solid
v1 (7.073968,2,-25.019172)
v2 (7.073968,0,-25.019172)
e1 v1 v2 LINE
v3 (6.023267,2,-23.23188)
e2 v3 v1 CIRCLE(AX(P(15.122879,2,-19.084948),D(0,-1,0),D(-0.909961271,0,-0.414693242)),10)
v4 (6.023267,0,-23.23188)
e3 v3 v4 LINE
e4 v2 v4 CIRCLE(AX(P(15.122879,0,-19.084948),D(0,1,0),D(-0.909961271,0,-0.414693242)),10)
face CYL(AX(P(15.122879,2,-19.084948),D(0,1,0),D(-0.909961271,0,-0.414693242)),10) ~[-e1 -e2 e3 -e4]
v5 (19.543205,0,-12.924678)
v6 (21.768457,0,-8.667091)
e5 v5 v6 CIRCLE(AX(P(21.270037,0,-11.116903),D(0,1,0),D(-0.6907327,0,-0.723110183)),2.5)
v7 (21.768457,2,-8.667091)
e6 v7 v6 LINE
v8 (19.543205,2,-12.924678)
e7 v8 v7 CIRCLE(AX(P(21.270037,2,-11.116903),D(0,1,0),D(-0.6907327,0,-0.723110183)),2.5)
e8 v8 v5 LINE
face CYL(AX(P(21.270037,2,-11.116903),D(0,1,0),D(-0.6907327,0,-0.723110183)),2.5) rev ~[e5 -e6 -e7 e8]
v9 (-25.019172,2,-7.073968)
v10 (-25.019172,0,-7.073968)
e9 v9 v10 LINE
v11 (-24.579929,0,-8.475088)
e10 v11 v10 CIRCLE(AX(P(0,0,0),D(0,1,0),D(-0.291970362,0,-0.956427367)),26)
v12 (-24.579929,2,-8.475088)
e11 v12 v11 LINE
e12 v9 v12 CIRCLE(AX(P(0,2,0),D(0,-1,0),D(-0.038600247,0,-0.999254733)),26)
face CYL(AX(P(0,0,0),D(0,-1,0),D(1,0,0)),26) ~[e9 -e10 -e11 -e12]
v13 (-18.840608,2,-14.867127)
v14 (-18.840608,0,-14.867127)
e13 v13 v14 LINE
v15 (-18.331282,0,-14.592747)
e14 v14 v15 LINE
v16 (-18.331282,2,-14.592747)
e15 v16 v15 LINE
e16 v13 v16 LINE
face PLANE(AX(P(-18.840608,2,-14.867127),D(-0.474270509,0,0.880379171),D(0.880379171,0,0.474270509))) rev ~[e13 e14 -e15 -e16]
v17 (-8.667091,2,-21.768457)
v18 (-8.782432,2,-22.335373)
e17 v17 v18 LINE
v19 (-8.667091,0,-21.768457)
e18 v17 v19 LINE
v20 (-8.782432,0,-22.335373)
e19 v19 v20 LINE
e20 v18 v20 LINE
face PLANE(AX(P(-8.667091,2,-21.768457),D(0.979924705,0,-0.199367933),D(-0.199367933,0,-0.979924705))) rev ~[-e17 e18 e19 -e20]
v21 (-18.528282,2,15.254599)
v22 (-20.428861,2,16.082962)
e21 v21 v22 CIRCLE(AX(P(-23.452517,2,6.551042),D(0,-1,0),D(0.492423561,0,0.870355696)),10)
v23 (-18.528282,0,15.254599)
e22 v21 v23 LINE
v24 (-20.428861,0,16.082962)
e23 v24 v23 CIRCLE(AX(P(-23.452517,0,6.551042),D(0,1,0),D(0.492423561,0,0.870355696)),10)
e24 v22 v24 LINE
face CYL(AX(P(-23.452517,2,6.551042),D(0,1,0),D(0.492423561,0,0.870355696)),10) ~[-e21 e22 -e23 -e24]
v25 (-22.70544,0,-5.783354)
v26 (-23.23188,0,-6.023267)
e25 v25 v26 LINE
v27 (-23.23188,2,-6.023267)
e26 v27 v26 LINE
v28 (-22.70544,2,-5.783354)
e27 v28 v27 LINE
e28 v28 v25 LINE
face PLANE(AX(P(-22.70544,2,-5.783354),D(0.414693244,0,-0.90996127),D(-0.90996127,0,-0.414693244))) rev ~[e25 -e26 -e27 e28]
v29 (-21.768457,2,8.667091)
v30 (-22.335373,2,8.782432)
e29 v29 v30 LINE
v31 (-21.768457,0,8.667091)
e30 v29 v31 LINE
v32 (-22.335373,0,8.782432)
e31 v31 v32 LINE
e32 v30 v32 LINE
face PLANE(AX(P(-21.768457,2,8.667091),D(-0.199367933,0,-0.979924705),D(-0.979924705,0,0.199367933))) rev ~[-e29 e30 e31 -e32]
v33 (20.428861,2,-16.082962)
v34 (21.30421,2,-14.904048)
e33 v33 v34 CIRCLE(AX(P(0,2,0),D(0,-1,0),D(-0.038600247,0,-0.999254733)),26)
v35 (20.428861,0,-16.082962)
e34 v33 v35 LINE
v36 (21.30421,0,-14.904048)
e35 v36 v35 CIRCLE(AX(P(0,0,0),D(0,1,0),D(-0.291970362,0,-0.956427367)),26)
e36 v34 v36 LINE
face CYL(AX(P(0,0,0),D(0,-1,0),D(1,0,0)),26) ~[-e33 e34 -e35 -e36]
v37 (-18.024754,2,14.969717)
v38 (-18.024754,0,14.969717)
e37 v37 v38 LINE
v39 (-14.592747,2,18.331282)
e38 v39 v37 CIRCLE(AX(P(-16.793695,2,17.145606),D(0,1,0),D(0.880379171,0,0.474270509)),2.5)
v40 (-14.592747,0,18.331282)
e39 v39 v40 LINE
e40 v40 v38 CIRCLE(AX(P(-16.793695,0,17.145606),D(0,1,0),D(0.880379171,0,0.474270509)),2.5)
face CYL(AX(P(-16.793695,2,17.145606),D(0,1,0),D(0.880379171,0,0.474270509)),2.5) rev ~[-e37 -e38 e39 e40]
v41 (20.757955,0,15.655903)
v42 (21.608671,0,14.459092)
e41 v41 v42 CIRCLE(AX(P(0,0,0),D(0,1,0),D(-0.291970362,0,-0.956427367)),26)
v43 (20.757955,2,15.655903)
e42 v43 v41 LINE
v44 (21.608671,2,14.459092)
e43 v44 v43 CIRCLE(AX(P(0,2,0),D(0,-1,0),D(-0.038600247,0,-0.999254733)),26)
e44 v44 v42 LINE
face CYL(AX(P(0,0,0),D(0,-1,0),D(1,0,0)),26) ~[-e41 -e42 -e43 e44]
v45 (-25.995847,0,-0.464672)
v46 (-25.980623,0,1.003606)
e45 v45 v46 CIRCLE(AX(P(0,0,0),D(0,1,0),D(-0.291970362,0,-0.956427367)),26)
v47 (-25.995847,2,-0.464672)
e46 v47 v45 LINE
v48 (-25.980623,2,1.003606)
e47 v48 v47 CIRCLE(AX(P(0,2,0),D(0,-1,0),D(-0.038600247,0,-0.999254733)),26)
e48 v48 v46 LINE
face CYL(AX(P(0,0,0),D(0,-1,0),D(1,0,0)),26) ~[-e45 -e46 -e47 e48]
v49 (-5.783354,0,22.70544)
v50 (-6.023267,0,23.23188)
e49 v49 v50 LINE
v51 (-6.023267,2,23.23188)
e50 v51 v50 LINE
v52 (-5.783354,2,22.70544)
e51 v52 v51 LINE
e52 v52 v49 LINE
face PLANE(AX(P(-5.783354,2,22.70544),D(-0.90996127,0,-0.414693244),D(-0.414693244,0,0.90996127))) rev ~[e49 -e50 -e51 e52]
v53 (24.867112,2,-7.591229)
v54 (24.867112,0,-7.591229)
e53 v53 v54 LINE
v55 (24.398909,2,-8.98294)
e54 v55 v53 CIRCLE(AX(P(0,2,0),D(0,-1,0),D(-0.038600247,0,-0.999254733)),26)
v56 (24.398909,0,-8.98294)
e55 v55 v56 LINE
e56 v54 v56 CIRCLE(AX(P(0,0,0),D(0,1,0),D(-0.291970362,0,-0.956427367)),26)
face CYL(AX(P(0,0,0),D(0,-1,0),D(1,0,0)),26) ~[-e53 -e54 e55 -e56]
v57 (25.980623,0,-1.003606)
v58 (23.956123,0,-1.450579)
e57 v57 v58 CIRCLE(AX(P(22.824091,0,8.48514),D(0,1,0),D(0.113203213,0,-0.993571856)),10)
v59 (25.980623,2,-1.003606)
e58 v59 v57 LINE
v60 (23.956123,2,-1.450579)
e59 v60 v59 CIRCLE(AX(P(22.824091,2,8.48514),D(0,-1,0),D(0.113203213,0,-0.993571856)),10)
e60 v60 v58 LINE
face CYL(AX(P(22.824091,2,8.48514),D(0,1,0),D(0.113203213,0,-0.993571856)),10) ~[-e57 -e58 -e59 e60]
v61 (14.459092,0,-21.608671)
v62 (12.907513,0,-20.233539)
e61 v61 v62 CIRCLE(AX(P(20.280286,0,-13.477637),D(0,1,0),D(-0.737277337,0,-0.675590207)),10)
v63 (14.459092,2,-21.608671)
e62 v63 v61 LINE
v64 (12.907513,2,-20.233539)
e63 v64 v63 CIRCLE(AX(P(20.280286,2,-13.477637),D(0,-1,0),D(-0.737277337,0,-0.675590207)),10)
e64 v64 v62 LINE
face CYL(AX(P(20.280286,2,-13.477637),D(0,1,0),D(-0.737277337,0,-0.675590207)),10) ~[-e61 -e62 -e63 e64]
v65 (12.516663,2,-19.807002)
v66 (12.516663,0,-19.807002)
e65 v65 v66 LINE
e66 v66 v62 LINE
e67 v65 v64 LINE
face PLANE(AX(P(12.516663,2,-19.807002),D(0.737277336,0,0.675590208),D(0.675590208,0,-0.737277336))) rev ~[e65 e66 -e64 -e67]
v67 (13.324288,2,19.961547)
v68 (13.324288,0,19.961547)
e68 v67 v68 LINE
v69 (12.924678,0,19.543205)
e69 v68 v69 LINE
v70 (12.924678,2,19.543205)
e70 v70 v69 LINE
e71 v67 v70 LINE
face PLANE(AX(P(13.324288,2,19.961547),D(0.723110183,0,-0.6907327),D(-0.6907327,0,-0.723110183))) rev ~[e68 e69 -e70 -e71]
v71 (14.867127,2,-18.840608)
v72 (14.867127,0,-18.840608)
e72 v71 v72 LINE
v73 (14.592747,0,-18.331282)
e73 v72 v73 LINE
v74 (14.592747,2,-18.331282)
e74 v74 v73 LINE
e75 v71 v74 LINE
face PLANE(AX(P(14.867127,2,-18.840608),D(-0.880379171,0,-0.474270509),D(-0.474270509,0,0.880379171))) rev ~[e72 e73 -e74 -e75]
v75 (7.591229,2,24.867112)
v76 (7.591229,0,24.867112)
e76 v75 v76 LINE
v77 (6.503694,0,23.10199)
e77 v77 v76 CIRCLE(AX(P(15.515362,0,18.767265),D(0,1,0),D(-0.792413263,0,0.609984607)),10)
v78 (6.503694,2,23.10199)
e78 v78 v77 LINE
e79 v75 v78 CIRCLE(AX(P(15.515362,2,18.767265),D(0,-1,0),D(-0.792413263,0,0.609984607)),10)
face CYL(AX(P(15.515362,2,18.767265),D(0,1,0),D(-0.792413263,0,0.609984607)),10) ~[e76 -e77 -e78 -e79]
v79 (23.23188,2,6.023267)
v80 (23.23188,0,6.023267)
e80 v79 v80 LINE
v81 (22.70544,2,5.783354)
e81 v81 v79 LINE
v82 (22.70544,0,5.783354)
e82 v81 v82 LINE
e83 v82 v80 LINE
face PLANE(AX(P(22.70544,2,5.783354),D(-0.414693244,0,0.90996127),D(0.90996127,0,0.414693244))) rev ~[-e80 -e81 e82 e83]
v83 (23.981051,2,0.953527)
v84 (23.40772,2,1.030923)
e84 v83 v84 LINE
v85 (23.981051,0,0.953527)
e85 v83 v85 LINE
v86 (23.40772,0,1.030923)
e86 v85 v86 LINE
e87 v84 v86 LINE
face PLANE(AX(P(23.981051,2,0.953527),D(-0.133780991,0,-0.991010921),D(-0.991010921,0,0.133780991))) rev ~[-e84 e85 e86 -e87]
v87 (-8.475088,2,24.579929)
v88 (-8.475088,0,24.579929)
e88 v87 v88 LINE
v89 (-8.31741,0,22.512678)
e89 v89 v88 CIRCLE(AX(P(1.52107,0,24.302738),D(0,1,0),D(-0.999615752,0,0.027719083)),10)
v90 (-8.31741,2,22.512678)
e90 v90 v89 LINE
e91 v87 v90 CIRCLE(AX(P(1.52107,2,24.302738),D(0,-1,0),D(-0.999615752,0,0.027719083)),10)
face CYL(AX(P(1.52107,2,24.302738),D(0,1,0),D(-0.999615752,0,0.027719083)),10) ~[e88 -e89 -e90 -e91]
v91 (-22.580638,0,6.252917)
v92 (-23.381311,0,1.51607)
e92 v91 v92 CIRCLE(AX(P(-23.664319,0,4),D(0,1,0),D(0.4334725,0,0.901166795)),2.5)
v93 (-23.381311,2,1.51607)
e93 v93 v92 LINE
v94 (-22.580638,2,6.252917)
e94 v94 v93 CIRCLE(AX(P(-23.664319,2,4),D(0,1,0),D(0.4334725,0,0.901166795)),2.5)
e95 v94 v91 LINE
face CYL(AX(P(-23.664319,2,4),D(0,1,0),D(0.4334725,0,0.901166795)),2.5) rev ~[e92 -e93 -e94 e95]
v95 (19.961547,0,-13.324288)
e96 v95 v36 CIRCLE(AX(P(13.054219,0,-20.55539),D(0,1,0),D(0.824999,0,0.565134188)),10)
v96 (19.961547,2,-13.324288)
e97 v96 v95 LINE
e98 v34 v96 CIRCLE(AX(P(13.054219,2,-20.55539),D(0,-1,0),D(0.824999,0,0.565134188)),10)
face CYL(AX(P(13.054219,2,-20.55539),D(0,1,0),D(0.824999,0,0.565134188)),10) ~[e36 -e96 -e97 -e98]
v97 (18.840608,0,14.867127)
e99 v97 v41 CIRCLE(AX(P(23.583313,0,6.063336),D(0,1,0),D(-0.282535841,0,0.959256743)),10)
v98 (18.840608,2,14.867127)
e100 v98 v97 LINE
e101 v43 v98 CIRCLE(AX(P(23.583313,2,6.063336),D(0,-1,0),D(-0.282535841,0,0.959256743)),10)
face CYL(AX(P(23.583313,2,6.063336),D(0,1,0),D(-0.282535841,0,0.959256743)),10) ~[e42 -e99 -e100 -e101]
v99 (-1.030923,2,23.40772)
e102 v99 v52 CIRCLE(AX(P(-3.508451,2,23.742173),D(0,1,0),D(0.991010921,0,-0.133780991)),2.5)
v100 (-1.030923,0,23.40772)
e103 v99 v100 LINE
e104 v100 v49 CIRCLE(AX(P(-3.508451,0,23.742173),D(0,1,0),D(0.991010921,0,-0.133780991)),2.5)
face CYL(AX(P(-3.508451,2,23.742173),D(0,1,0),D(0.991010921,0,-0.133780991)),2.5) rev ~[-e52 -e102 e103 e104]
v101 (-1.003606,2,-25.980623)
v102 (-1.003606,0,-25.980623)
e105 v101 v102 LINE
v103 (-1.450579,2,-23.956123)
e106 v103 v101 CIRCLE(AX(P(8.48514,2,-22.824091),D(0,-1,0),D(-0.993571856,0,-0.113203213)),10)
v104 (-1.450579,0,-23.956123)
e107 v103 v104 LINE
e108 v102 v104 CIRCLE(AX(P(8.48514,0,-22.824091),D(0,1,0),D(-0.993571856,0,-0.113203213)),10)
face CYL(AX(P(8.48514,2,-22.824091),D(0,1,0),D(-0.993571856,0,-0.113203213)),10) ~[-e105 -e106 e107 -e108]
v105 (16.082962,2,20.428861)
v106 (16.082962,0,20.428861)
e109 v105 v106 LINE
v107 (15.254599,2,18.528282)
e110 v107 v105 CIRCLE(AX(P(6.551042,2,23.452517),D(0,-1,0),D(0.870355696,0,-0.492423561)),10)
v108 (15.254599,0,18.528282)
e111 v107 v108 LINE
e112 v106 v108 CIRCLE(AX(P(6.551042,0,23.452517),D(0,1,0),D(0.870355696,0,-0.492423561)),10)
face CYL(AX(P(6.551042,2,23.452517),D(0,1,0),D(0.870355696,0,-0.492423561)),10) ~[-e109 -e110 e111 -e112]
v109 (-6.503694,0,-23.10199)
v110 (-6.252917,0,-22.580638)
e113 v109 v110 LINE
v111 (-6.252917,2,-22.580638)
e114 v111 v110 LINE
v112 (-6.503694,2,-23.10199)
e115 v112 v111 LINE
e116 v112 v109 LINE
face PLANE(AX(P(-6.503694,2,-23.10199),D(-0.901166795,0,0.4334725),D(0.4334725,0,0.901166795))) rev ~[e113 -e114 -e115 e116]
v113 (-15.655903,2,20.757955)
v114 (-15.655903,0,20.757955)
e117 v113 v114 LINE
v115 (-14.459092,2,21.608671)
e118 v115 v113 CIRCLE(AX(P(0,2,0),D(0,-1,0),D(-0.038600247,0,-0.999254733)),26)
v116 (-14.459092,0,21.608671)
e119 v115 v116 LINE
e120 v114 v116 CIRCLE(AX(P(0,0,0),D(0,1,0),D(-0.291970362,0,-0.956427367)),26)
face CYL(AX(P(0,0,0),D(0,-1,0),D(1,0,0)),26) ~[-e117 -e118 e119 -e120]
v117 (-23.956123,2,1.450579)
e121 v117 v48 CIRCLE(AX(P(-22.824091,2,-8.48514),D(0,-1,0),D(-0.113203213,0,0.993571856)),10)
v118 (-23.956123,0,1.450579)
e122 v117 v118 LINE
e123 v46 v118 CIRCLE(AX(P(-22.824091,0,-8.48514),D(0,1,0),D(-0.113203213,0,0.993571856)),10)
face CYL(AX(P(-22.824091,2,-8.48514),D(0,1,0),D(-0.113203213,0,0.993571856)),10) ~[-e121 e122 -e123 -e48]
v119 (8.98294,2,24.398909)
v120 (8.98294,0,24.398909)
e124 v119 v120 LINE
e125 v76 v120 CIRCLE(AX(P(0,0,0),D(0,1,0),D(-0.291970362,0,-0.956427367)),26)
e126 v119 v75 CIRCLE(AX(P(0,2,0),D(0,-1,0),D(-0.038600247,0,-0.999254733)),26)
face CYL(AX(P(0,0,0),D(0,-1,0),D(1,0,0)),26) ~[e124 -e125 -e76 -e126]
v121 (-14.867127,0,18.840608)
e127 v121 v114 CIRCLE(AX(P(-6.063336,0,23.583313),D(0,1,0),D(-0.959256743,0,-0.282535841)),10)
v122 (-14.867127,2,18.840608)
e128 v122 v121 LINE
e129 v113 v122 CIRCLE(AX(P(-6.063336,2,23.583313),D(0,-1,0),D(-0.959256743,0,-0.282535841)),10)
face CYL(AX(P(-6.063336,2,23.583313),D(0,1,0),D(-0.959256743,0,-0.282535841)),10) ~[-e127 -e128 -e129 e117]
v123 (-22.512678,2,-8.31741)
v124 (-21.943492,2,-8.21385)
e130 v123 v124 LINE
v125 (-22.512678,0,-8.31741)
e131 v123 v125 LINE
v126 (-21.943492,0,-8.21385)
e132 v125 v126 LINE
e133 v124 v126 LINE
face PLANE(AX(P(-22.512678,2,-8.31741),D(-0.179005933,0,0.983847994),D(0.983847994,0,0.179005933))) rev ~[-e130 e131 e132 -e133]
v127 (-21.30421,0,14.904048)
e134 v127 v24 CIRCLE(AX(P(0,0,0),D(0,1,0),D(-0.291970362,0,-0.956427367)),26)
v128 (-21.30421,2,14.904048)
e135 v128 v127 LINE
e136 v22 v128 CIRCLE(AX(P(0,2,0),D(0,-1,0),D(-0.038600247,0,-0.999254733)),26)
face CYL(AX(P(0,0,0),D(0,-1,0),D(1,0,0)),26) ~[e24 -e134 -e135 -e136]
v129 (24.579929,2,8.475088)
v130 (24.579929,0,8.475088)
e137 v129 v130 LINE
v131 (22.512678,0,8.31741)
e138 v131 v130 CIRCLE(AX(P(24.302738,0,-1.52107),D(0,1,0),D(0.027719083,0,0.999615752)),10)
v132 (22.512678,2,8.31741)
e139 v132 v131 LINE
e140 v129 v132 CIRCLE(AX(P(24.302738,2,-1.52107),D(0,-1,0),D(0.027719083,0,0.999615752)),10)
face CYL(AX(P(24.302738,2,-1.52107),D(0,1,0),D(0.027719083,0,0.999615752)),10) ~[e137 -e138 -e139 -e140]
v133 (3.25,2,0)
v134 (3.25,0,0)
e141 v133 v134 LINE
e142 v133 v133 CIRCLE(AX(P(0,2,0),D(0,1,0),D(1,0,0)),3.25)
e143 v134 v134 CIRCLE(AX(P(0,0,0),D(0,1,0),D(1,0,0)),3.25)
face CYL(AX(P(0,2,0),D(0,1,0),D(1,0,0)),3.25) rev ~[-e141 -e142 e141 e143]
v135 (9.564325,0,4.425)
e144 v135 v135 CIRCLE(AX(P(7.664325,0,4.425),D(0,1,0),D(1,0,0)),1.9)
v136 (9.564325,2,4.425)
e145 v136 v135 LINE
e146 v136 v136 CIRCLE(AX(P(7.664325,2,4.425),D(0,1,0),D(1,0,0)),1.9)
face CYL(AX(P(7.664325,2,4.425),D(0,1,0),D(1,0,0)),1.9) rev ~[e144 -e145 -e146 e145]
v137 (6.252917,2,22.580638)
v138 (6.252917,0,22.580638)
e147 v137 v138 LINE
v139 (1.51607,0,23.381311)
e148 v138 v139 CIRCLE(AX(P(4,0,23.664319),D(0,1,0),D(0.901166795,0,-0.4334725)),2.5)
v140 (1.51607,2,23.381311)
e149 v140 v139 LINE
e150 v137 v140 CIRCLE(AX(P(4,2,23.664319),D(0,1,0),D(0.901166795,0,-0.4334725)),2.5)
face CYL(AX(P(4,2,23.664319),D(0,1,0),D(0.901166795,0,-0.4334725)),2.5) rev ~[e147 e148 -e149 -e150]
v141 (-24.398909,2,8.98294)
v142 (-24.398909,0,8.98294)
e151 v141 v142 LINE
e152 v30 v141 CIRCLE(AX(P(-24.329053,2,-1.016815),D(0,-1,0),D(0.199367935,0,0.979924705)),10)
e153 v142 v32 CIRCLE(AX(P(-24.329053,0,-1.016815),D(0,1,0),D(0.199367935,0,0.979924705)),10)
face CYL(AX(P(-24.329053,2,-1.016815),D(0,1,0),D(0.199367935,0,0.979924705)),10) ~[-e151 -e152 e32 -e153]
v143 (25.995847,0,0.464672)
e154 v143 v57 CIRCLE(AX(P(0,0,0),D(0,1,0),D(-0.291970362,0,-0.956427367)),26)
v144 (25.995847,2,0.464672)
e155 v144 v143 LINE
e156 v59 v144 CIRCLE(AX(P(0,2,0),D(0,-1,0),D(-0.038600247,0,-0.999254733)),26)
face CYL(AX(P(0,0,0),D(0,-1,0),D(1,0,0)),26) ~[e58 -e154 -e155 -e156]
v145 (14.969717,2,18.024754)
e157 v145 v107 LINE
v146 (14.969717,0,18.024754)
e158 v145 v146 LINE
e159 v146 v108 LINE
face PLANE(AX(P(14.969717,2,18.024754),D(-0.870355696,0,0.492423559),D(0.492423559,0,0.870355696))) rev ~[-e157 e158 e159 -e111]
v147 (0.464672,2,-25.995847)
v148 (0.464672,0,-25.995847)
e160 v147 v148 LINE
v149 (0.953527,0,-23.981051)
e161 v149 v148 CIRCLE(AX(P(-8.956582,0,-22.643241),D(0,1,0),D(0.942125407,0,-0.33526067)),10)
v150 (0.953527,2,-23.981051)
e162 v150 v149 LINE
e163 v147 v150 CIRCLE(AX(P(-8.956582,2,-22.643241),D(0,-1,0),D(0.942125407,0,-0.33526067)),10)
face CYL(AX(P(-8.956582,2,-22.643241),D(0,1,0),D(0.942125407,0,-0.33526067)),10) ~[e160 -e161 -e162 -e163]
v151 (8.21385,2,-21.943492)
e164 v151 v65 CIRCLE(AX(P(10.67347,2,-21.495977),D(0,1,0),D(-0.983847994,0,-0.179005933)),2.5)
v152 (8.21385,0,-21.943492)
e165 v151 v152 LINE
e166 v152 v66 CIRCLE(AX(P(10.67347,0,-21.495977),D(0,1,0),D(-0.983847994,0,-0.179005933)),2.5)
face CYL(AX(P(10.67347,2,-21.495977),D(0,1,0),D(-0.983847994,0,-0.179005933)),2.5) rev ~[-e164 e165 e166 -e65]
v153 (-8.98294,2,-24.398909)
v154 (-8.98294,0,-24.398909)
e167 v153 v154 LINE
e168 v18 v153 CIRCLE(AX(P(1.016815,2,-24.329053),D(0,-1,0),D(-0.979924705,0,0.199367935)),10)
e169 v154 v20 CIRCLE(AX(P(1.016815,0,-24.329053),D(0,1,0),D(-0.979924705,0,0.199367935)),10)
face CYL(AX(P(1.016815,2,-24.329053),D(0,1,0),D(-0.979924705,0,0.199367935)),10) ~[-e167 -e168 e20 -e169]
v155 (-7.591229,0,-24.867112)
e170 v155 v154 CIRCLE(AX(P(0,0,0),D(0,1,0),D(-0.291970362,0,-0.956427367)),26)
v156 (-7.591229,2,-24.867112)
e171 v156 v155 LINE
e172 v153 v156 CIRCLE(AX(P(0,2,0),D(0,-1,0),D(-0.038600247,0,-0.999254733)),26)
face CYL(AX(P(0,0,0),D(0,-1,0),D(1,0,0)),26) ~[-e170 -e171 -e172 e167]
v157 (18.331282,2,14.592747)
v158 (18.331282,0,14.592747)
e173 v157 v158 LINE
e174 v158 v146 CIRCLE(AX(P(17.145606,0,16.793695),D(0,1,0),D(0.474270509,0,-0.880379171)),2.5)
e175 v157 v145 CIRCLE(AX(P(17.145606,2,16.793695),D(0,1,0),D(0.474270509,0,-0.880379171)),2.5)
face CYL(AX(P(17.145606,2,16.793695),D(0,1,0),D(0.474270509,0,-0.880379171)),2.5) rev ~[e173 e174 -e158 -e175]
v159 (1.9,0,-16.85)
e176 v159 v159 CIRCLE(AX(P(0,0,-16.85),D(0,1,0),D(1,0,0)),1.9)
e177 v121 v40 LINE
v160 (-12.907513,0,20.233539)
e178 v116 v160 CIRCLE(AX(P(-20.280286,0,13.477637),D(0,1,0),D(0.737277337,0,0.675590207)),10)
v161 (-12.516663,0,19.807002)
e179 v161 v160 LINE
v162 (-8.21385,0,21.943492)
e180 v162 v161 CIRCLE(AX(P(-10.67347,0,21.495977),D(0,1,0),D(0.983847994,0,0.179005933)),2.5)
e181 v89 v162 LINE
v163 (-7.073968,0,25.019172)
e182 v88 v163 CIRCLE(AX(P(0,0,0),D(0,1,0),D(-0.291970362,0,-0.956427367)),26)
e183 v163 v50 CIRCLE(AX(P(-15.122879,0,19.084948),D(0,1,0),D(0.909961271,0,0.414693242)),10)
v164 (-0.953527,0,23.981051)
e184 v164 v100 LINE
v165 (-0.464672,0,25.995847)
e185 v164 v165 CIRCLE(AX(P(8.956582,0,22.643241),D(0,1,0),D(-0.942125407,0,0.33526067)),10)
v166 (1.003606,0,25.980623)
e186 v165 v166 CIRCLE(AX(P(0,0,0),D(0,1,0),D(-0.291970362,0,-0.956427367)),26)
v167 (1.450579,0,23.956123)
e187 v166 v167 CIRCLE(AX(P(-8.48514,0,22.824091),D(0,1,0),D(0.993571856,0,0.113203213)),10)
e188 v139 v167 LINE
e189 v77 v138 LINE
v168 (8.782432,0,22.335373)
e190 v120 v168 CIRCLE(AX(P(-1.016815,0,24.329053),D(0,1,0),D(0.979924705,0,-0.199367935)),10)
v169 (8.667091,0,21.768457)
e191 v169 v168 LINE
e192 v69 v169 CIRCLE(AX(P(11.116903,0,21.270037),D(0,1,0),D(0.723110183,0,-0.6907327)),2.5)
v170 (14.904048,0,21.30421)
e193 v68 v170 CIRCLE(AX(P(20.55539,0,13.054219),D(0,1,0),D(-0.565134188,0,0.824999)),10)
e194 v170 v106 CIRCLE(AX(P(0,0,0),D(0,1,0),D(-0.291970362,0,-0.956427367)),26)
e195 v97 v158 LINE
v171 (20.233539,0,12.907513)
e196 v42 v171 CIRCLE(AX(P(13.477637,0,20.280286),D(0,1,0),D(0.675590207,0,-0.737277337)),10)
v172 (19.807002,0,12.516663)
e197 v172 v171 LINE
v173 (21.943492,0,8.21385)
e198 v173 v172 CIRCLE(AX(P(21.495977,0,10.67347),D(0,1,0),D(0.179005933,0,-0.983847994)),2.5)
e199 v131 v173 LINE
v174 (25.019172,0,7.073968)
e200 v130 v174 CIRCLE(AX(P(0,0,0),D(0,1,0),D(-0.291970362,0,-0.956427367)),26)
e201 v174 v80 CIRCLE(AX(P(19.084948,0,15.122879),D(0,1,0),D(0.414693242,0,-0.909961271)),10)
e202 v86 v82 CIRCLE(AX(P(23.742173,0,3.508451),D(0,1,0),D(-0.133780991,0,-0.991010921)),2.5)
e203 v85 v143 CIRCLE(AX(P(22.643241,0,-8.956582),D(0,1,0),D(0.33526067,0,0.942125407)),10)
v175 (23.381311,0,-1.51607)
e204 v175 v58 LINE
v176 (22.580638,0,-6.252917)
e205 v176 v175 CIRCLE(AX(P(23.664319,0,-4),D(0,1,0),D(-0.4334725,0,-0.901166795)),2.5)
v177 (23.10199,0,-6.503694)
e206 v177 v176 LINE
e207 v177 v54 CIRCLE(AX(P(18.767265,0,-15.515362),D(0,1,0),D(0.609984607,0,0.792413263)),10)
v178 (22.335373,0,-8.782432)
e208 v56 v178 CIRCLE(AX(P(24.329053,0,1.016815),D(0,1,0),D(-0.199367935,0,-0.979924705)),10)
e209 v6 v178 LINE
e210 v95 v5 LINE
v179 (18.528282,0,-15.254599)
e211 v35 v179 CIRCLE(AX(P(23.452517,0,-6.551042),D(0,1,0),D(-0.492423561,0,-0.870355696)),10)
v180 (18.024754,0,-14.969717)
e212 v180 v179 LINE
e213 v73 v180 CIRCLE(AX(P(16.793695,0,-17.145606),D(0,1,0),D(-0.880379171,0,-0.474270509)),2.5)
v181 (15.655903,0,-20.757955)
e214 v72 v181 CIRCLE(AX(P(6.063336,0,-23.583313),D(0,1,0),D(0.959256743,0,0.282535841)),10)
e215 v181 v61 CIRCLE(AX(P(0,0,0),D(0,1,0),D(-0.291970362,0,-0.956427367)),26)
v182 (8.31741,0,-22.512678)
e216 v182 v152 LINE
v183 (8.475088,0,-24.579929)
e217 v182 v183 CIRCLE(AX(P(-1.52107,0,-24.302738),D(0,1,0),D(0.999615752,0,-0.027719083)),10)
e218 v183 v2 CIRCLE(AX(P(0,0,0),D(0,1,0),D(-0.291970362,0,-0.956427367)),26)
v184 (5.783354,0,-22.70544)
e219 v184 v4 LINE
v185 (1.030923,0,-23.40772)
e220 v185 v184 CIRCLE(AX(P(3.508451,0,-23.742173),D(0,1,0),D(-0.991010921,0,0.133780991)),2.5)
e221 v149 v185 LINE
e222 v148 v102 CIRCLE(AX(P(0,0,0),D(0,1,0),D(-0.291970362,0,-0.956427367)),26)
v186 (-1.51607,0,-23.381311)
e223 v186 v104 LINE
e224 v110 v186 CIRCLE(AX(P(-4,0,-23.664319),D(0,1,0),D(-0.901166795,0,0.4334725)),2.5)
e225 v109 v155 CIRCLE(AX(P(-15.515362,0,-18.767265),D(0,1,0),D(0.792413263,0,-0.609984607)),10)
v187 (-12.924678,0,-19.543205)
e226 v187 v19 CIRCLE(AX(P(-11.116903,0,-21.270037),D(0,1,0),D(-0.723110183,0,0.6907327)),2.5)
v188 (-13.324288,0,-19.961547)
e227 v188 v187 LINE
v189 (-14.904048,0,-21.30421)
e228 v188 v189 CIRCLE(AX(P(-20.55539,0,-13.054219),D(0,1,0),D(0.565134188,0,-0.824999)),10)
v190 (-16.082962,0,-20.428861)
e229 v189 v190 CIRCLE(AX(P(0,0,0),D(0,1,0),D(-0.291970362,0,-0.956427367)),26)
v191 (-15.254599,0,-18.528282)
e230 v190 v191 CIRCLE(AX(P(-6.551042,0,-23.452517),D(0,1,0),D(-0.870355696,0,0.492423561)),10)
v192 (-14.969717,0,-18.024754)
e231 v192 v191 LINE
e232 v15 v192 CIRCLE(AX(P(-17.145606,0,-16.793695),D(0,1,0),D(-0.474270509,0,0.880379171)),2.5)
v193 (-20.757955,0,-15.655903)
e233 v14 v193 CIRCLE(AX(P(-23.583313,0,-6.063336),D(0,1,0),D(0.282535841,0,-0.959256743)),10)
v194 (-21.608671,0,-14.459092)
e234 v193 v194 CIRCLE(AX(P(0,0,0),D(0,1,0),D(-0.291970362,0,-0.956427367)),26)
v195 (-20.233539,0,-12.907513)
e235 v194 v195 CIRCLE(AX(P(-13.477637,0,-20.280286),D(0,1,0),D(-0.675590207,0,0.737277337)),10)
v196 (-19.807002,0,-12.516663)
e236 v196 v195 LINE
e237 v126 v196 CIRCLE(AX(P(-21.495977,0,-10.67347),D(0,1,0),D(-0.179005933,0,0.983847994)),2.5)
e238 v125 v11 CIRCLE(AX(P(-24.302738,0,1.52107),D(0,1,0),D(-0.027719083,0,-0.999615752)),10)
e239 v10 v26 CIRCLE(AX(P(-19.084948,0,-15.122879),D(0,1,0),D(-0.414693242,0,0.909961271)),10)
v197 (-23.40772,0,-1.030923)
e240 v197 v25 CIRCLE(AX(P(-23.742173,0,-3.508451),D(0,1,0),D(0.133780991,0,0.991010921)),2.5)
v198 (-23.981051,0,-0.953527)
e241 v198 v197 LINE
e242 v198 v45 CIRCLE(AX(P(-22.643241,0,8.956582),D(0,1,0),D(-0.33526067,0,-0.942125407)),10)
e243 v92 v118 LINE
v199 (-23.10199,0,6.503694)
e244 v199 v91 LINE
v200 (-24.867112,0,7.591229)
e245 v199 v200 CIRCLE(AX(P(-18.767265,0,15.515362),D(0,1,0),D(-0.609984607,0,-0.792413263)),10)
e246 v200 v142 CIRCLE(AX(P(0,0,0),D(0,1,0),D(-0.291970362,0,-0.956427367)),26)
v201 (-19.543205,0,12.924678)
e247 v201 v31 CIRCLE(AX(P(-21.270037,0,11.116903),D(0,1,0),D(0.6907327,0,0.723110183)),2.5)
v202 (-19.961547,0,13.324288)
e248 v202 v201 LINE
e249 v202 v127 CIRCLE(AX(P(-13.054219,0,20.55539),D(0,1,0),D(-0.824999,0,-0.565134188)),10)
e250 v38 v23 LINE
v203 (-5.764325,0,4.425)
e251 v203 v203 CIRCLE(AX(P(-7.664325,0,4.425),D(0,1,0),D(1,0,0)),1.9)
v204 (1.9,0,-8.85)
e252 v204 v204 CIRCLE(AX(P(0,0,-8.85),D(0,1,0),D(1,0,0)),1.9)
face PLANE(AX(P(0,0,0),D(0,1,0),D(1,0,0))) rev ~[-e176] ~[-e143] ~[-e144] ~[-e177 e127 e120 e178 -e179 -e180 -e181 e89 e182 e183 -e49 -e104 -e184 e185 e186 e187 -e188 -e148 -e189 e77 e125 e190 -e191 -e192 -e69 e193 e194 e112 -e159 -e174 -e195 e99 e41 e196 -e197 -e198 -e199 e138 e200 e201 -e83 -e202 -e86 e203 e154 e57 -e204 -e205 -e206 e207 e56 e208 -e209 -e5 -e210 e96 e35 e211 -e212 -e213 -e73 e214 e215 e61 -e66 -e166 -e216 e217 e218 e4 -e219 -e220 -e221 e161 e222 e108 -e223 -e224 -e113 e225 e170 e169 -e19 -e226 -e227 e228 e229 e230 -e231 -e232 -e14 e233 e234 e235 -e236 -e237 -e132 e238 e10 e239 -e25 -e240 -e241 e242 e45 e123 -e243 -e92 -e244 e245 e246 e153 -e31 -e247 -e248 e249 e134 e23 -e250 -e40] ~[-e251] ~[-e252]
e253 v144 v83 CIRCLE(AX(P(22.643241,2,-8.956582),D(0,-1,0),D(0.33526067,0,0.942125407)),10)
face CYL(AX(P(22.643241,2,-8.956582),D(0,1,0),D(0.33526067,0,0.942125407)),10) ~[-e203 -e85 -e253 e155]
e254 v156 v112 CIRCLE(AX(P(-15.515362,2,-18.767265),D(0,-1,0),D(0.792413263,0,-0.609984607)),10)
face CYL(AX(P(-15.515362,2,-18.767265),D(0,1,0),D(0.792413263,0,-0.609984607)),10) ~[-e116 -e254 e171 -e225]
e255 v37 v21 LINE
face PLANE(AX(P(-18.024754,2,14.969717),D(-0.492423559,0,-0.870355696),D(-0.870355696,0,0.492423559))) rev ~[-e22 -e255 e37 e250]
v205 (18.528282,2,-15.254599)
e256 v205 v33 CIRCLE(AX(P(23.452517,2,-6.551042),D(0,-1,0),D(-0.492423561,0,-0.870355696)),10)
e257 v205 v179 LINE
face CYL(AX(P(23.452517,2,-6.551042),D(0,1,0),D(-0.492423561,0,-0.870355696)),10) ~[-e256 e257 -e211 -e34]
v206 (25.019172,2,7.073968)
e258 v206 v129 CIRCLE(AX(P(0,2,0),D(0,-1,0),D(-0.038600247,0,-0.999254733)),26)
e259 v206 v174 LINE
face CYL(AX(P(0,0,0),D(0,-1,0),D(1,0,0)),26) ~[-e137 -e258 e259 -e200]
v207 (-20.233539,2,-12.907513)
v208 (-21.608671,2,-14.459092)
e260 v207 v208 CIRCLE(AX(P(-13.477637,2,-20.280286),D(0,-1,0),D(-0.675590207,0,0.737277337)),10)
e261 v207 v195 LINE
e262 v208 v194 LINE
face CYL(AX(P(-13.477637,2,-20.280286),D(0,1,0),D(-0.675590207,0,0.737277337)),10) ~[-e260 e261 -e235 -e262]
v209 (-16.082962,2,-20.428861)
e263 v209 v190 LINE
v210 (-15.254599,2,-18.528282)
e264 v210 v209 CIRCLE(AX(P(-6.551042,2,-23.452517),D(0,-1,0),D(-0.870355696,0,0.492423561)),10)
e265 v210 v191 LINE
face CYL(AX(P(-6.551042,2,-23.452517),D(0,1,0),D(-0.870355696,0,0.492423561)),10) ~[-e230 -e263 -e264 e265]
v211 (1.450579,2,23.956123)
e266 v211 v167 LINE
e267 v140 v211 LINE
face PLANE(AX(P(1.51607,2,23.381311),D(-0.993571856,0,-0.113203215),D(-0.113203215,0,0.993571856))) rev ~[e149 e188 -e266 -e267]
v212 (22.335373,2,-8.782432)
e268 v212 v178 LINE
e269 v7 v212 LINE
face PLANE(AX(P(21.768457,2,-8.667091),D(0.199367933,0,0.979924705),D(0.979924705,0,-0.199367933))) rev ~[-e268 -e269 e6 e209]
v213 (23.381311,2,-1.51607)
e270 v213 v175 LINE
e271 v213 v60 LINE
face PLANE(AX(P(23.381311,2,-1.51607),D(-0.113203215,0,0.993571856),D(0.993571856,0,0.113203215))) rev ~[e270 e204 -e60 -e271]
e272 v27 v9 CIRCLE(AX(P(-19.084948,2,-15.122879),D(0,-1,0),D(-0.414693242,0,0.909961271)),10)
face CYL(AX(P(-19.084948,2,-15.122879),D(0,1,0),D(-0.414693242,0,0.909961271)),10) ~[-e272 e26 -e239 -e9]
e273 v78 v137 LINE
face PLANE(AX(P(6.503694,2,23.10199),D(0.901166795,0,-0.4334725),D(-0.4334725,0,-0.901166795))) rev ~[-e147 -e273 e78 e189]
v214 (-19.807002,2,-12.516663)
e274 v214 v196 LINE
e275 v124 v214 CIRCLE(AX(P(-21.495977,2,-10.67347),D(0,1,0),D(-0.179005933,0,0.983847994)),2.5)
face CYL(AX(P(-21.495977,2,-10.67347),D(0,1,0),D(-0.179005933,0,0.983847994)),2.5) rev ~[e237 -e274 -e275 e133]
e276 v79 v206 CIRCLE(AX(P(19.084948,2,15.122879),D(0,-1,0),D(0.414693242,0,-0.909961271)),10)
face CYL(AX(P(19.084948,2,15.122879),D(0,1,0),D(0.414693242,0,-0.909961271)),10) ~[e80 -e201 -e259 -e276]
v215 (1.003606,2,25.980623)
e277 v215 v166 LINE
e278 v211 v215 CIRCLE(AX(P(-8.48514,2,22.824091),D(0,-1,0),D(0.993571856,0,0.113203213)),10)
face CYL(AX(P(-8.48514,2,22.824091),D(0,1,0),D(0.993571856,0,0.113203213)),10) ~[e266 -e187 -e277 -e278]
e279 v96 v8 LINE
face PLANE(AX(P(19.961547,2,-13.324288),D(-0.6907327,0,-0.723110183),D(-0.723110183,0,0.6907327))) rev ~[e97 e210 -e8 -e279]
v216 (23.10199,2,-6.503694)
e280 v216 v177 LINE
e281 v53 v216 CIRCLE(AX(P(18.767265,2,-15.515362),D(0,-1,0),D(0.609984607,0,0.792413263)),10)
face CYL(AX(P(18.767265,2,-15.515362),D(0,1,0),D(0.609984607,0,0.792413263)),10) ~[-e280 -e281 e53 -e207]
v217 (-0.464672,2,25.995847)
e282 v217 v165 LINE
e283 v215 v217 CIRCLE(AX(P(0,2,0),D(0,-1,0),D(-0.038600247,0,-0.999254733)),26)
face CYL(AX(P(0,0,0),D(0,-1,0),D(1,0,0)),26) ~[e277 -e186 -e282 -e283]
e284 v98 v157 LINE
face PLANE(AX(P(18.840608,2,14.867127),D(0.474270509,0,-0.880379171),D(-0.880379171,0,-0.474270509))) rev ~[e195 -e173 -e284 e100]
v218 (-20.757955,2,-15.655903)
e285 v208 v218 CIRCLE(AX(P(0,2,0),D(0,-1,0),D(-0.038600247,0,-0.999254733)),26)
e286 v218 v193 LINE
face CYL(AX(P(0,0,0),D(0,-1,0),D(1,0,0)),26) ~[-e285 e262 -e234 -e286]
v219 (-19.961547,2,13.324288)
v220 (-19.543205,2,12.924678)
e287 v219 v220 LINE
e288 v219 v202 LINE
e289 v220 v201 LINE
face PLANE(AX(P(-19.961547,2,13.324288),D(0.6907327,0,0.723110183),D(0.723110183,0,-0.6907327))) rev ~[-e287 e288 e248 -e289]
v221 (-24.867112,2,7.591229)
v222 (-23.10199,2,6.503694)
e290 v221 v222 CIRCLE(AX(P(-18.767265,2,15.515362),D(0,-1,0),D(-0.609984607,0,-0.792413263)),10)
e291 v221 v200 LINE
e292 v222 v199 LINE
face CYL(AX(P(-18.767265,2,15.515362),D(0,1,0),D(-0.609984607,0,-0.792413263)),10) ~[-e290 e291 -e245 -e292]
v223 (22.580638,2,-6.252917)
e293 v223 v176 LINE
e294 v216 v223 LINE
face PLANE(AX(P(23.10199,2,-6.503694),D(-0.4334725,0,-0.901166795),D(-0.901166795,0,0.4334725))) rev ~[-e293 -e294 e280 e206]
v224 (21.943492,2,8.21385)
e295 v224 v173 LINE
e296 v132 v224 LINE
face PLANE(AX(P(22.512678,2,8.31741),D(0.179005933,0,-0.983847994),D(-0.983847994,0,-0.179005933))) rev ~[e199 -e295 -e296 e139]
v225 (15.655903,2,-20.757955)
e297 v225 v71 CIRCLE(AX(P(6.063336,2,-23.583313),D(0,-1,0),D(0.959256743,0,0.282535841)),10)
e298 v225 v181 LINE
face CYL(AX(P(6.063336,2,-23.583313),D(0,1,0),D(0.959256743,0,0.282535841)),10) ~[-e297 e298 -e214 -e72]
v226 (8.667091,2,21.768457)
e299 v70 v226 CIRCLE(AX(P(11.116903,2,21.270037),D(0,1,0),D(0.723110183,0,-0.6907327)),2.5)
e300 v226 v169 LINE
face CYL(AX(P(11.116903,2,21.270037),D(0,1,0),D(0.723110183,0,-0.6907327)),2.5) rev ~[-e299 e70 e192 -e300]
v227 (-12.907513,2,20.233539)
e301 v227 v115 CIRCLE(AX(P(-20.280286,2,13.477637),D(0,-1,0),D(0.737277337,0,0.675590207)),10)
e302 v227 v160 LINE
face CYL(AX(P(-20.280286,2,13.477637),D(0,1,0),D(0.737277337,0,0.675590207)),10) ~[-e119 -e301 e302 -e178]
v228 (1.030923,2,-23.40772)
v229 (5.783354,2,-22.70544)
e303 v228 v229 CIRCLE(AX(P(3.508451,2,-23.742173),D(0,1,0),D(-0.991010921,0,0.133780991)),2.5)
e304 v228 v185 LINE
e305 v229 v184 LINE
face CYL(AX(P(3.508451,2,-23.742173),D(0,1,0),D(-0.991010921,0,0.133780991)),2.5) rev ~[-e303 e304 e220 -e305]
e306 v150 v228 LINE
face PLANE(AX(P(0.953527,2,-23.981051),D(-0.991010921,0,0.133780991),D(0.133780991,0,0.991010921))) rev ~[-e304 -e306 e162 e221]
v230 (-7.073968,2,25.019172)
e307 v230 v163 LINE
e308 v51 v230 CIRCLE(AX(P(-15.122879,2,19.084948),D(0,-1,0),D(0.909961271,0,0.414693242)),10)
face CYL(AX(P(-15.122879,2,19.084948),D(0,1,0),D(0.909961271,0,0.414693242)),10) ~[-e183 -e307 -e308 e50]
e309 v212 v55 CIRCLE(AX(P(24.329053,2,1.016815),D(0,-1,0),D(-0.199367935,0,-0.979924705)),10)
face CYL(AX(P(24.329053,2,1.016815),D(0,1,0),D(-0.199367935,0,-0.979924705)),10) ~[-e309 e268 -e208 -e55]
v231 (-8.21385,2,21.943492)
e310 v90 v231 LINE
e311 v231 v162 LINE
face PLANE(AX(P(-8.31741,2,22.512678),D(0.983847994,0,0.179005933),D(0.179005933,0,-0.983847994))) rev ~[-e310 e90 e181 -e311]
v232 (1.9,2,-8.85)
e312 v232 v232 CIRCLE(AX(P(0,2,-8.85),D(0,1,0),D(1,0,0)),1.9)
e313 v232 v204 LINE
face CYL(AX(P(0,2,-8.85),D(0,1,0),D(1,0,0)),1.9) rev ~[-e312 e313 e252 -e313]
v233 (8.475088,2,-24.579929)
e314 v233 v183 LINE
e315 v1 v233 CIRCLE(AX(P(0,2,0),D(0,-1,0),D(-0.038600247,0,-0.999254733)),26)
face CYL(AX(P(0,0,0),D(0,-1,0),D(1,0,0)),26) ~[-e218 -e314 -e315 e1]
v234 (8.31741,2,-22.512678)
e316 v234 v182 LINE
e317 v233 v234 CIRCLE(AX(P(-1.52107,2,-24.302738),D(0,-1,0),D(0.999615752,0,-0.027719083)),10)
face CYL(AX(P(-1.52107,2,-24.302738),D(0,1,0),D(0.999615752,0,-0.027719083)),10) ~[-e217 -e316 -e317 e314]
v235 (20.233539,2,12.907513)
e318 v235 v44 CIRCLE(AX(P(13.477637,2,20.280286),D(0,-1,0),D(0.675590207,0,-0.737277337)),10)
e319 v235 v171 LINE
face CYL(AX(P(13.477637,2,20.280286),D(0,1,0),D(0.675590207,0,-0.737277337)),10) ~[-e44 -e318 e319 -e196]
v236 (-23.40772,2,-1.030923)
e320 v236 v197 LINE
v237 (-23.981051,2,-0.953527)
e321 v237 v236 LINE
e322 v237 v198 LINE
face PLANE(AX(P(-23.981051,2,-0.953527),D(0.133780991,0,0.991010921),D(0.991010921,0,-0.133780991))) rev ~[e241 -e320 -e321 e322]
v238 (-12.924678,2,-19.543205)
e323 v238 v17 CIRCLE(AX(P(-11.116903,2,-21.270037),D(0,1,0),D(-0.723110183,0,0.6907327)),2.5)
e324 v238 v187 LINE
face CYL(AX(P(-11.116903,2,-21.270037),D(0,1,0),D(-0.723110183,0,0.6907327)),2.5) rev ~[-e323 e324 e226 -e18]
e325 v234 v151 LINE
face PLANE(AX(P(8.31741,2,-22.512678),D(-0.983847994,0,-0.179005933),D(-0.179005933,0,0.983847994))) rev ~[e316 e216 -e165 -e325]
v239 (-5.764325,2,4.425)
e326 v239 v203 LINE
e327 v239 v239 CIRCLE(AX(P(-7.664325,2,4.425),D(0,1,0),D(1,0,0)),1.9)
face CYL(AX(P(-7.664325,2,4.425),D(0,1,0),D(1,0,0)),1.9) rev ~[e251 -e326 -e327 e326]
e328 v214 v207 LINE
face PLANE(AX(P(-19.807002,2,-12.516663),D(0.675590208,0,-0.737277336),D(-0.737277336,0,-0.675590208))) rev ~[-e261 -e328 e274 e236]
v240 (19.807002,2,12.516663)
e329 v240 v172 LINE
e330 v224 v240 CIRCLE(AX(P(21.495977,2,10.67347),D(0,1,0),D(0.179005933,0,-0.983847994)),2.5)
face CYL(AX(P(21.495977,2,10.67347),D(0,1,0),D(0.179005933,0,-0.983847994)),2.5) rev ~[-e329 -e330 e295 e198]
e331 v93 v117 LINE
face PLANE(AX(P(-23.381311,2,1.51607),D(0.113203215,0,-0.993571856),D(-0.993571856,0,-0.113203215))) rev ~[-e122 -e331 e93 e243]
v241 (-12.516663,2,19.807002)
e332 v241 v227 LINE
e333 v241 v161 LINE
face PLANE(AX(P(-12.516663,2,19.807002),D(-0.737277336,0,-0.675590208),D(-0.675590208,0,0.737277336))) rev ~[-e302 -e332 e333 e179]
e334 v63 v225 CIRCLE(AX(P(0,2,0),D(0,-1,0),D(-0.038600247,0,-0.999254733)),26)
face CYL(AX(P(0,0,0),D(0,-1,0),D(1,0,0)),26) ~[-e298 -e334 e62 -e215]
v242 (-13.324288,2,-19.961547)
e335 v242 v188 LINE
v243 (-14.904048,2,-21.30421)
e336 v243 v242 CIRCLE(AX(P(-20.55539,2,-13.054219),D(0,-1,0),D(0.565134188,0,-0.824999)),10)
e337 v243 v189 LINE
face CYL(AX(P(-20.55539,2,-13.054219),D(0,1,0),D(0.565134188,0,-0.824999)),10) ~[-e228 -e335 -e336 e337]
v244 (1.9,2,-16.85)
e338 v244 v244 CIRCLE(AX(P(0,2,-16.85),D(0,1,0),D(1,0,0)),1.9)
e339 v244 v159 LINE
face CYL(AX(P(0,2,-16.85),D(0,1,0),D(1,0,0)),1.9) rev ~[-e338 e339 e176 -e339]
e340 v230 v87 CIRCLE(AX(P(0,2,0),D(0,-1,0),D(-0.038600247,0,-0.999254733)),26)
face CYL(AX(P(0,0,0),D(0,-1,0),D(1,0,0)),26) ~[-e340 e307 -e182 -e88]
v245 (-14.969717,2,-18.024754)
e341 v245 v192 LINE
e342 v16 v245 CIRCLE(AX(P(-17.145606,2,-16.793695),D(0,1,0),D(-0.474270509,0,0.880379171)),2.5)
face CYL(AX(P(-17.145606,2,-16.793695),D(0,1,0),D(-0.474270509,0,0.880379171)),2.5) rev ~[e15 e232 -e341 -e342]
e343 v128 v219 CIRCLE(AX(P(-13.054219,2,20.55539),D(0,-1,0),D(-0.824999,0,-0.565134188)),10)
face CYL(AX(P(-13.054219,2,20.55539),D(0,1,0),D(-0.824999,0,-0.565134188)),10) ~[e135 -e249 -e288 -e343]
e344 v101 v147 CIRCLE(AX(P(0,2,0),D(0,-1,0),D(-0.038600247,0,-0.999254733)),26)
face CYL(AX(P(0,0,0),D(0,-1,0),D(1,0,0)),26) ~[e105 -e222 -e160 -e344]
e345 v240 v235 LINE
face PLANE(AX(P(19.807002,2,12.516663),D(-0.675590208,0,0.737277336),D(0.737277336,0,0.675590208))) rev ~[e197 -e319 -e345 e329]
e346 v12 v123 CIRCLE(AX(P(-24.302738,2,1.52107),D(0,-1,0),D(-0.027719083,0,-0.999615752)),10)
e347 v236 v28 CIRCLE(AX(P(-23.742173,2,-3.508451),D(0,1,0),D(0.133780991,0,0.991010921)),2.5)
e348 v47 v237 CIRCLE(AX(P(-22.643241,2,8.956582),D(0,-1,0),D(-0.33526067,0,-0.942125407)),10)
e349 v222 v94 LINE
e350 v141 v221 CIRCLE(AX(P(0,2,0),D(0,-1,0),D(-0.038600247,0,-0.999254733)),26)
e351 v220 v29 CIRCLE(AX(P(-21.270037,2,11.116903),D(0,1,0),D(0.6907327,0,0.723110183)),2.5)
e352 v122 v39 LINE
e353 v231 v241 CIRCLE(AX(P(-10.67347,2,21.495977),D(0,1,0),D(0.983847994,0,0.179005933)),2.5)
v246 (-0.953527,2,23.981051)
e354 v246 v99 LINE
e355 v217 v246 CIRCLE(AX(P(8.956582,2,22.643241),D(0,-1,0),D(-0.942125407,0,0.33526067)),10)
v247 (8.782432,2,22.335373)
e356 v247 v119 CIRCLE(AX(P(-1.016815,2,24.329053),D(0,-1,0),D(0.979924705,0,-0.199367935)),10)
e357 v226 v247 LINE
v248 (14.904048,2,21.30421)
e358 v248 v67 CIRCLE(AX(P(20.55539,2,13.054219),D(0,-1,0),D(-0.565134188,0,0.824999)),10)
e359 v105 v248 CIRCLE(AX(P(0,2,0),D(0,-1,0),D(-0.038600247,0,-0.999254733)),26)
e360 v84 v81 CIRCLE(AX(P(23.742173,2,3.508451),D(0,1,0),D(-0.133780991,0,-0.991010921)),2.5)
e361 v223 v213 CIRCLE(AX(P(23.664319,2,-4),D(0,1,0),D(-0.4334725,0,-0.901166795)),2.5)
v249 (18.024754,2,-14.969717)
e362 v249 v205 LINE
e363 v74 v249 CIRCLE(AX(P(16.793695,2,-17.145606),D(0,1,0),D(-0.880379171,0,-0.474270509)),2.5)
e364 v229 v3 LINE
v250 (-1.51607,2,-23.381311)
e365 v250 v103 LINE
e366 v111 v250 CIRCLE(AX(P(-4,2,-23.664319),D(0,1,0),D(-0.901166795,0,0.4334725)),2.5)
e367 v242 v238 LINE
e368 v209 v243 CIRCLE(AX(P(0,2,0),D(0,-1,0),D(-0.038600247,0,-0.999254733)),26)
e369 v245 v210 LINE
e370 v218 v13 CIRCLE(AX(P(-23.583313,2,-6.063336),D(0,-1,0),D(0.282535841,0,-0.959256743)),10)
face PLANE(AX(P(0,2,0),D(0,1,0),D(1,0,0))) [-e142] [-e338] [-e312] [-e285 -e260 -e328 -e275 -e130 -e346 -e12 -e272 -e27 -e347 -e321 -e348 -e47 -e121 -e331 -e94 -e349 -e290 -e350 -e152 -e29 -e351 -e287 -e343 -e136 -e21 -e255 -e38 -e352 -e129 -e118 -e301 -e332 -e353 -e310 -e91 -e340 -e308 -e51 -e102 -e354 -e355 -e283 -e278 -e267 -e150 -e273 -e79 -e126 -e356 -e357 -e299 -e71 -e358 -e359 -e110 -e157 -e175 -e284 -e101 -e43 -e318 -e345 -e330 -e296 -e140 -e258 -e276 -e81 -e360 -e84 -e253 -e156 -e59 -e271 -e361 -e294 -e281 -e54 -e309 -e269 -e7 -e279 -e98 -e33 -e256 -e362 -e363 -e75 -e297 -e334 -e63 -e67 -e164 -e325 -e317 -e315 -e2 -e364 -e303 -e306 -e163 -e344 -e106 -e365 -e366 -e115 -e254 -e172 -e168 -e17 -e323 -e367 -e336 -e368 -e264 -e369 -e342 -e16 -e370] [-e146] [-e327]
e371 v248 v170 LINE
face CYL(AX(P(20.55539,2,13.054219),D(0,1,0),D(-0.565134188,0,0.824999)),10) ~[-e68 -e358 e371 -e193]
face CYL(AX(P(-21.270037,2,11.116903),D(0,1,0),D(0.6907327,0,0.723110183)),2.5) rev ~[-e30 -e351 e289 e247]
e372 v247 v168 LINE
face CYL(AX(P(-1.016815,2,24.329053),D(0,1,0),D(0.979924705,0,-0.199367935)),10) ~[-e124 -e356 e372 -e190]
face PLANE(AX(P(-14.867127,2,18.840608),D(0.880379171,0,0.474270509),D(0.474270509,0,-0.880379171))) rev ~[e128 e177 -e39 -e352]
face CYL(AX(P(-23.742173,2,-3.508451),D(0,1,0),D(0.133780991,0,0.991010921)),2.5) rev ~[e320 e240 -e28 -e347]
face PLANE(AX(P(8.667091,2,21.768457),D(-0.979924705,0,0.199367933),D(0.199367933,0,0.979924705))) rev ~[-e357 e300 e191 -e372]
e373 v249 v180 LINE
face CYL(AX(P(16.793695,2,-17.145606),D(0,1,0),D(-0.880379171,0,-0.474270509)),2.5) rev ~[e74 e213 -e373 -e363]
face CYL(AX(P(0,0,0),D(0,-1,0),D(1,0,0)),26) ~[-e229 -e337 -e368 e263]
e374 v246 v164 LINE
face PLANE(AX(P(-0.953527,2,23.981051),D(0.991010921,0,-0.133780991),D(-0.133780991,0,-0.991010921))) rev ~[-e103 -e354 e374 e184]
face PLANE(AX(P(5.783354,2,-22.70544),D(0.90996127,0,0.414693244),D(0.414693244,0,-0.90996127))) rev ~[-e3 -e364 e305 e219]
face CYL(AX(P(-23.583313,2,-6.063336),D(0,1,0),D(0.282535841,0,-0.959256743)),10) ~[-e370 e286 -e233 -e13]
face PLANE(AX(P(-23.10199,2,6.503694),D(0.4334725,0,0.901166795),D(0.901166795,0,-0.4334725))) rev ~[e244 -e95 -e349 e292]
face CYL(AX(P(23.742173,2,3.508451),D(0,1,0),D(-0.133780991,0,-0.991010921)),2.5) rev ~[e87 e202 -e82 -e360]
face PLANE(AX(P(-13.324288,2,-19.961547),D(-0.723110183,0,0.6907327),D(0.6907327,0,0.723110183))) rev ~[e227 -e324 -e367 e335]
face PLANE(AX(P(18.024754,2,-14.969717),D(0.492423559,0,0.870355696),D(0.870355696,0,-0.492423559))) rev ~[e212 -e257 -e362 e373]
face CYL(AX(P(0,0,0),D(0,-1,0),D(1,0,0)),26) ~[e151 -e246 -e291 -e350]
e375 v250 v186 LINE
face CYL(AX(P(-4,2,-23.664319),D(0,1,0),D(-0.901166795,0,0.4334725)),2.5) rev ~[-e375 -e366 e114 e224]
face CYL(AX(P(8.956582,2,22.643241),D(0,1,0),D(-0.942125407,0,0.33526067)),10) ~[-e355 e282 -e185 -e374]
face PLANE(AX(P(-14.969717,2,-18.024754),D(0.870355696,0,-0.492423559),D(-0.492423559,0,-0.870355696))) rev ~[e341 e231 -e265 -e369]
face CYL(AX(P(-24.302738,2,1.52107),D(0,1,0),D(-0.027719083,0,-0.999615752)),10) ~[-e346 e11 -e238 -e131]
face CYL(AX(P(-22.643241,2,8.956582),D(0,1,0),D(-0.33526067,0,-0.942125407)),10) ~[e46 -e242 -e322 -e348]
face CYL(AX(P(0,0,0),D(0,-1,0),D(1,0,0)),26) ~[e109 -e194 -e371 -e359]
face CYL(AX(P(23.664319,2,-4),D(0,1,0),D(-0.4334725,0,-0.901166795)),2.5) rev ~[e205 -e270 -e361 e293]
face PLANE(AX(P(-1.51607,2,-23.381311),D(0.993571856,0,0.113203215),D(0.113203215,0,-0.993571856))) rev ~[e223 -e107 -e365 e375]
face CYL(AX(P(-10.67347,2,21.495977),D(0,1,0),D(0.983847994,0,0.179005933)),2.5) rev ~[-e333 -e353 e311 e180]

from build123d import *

# Parameters (mm, degrees)
SKETCH1_R           = 26
BOSS_EXTRUDE1_DEPTH = 2
SKETCH2_R           = 3.25
SKETCH2_R_2         = 1.9
CUT_EXTRUDE1_DEPTH  = 3
CUT_EXTRUDE2_DEPTH  = 10
CIRPATTERN1_COUNT   = 20


with BuildPart() as part:
    # Sketch1 → Boss-Extrude1 (new body)
    with BuildSketch(Plane(origin=(0, 0, 0), x_dir=(1, 0, 0), z_dir=(0, 1, 0))):
        Circle(SKETCH1_R)
    extrude(amount=BOSS_EXTRUDE1_DEPTH)

    # Sketch2 → Cut-Extrude1 (cut, through all)
    with BuildSketch(Plane(origin=(0, 2, 0), x_dir=(1, 0, 0), z_dir=(0, 1, 0))):
        Circle(SKETCH2_R)
        with Locations((0, 8.85)):
            Circle(SKETCH2_R_2)
        with Locations((7.664324823, -4.425)):
            Circle(SKETCH2_R_2)
        with Locations((-7.664324823, -4.425)):
            Circle(SKETCH2_R_2)
        with Locations((0, 16.85)):
            Circle(SKETCH2_R_2)
    extrude(amount=-CUT_EXTRUDE1_DEPTH, mode=Mode.SUBTRACT)

    # Sketch5 → Cut-Extrude2 (cut)
    with BuildSketch(Plane(origin=(0, 2, 0), x_dir=(1, 0, 0), z_dir=(0, 1, 0))):
        with BuildLine():
            ThreePointArc((-7.591229417, 24.867111532), (-7.001593879, 24.012811344), (-6.503694096, 23.101990458))
            Line((-6.503694096, 23.101990458), (-6.252916986, 22.580637882))
            ThreePointArc((-6.252916986, 22.580637882), (-3.583333333, 21.199285889), (-1.516070361, 23.381311098))
            Line((-1.516070361, 23.381311098), (-1.450578836, 23.95612283))
            ThreePointArc((-1.450578836, 23.95612283), (-1.279700655, 24.979987824), (-1.003606428, 25.980623051))
            ThreePointArc((-1.003606428, 25.980623051), (-4.333333333, 25.636345727), (-7.591229417, 24.867111532))
        make_face()
    cut_extrude2 = extrude(amount=-CUT_EXTRUDE2_DEPTH, mode=Mode.SUBTRACT)

    # CirPattern1: Cut-Extrude2 ×20 about axis
    cirpattern1_axis = Axis((0, 0, 0), (0, 1, 0))
    for i in range(1, CIRPATTERN1_COUNT):
        add(cut_extrude2.rotate(cirpattern1_axis, i * 360 / CIRPATTERN1_COUNT), mode=Mode.SUBTRACT)


solid = part.part
